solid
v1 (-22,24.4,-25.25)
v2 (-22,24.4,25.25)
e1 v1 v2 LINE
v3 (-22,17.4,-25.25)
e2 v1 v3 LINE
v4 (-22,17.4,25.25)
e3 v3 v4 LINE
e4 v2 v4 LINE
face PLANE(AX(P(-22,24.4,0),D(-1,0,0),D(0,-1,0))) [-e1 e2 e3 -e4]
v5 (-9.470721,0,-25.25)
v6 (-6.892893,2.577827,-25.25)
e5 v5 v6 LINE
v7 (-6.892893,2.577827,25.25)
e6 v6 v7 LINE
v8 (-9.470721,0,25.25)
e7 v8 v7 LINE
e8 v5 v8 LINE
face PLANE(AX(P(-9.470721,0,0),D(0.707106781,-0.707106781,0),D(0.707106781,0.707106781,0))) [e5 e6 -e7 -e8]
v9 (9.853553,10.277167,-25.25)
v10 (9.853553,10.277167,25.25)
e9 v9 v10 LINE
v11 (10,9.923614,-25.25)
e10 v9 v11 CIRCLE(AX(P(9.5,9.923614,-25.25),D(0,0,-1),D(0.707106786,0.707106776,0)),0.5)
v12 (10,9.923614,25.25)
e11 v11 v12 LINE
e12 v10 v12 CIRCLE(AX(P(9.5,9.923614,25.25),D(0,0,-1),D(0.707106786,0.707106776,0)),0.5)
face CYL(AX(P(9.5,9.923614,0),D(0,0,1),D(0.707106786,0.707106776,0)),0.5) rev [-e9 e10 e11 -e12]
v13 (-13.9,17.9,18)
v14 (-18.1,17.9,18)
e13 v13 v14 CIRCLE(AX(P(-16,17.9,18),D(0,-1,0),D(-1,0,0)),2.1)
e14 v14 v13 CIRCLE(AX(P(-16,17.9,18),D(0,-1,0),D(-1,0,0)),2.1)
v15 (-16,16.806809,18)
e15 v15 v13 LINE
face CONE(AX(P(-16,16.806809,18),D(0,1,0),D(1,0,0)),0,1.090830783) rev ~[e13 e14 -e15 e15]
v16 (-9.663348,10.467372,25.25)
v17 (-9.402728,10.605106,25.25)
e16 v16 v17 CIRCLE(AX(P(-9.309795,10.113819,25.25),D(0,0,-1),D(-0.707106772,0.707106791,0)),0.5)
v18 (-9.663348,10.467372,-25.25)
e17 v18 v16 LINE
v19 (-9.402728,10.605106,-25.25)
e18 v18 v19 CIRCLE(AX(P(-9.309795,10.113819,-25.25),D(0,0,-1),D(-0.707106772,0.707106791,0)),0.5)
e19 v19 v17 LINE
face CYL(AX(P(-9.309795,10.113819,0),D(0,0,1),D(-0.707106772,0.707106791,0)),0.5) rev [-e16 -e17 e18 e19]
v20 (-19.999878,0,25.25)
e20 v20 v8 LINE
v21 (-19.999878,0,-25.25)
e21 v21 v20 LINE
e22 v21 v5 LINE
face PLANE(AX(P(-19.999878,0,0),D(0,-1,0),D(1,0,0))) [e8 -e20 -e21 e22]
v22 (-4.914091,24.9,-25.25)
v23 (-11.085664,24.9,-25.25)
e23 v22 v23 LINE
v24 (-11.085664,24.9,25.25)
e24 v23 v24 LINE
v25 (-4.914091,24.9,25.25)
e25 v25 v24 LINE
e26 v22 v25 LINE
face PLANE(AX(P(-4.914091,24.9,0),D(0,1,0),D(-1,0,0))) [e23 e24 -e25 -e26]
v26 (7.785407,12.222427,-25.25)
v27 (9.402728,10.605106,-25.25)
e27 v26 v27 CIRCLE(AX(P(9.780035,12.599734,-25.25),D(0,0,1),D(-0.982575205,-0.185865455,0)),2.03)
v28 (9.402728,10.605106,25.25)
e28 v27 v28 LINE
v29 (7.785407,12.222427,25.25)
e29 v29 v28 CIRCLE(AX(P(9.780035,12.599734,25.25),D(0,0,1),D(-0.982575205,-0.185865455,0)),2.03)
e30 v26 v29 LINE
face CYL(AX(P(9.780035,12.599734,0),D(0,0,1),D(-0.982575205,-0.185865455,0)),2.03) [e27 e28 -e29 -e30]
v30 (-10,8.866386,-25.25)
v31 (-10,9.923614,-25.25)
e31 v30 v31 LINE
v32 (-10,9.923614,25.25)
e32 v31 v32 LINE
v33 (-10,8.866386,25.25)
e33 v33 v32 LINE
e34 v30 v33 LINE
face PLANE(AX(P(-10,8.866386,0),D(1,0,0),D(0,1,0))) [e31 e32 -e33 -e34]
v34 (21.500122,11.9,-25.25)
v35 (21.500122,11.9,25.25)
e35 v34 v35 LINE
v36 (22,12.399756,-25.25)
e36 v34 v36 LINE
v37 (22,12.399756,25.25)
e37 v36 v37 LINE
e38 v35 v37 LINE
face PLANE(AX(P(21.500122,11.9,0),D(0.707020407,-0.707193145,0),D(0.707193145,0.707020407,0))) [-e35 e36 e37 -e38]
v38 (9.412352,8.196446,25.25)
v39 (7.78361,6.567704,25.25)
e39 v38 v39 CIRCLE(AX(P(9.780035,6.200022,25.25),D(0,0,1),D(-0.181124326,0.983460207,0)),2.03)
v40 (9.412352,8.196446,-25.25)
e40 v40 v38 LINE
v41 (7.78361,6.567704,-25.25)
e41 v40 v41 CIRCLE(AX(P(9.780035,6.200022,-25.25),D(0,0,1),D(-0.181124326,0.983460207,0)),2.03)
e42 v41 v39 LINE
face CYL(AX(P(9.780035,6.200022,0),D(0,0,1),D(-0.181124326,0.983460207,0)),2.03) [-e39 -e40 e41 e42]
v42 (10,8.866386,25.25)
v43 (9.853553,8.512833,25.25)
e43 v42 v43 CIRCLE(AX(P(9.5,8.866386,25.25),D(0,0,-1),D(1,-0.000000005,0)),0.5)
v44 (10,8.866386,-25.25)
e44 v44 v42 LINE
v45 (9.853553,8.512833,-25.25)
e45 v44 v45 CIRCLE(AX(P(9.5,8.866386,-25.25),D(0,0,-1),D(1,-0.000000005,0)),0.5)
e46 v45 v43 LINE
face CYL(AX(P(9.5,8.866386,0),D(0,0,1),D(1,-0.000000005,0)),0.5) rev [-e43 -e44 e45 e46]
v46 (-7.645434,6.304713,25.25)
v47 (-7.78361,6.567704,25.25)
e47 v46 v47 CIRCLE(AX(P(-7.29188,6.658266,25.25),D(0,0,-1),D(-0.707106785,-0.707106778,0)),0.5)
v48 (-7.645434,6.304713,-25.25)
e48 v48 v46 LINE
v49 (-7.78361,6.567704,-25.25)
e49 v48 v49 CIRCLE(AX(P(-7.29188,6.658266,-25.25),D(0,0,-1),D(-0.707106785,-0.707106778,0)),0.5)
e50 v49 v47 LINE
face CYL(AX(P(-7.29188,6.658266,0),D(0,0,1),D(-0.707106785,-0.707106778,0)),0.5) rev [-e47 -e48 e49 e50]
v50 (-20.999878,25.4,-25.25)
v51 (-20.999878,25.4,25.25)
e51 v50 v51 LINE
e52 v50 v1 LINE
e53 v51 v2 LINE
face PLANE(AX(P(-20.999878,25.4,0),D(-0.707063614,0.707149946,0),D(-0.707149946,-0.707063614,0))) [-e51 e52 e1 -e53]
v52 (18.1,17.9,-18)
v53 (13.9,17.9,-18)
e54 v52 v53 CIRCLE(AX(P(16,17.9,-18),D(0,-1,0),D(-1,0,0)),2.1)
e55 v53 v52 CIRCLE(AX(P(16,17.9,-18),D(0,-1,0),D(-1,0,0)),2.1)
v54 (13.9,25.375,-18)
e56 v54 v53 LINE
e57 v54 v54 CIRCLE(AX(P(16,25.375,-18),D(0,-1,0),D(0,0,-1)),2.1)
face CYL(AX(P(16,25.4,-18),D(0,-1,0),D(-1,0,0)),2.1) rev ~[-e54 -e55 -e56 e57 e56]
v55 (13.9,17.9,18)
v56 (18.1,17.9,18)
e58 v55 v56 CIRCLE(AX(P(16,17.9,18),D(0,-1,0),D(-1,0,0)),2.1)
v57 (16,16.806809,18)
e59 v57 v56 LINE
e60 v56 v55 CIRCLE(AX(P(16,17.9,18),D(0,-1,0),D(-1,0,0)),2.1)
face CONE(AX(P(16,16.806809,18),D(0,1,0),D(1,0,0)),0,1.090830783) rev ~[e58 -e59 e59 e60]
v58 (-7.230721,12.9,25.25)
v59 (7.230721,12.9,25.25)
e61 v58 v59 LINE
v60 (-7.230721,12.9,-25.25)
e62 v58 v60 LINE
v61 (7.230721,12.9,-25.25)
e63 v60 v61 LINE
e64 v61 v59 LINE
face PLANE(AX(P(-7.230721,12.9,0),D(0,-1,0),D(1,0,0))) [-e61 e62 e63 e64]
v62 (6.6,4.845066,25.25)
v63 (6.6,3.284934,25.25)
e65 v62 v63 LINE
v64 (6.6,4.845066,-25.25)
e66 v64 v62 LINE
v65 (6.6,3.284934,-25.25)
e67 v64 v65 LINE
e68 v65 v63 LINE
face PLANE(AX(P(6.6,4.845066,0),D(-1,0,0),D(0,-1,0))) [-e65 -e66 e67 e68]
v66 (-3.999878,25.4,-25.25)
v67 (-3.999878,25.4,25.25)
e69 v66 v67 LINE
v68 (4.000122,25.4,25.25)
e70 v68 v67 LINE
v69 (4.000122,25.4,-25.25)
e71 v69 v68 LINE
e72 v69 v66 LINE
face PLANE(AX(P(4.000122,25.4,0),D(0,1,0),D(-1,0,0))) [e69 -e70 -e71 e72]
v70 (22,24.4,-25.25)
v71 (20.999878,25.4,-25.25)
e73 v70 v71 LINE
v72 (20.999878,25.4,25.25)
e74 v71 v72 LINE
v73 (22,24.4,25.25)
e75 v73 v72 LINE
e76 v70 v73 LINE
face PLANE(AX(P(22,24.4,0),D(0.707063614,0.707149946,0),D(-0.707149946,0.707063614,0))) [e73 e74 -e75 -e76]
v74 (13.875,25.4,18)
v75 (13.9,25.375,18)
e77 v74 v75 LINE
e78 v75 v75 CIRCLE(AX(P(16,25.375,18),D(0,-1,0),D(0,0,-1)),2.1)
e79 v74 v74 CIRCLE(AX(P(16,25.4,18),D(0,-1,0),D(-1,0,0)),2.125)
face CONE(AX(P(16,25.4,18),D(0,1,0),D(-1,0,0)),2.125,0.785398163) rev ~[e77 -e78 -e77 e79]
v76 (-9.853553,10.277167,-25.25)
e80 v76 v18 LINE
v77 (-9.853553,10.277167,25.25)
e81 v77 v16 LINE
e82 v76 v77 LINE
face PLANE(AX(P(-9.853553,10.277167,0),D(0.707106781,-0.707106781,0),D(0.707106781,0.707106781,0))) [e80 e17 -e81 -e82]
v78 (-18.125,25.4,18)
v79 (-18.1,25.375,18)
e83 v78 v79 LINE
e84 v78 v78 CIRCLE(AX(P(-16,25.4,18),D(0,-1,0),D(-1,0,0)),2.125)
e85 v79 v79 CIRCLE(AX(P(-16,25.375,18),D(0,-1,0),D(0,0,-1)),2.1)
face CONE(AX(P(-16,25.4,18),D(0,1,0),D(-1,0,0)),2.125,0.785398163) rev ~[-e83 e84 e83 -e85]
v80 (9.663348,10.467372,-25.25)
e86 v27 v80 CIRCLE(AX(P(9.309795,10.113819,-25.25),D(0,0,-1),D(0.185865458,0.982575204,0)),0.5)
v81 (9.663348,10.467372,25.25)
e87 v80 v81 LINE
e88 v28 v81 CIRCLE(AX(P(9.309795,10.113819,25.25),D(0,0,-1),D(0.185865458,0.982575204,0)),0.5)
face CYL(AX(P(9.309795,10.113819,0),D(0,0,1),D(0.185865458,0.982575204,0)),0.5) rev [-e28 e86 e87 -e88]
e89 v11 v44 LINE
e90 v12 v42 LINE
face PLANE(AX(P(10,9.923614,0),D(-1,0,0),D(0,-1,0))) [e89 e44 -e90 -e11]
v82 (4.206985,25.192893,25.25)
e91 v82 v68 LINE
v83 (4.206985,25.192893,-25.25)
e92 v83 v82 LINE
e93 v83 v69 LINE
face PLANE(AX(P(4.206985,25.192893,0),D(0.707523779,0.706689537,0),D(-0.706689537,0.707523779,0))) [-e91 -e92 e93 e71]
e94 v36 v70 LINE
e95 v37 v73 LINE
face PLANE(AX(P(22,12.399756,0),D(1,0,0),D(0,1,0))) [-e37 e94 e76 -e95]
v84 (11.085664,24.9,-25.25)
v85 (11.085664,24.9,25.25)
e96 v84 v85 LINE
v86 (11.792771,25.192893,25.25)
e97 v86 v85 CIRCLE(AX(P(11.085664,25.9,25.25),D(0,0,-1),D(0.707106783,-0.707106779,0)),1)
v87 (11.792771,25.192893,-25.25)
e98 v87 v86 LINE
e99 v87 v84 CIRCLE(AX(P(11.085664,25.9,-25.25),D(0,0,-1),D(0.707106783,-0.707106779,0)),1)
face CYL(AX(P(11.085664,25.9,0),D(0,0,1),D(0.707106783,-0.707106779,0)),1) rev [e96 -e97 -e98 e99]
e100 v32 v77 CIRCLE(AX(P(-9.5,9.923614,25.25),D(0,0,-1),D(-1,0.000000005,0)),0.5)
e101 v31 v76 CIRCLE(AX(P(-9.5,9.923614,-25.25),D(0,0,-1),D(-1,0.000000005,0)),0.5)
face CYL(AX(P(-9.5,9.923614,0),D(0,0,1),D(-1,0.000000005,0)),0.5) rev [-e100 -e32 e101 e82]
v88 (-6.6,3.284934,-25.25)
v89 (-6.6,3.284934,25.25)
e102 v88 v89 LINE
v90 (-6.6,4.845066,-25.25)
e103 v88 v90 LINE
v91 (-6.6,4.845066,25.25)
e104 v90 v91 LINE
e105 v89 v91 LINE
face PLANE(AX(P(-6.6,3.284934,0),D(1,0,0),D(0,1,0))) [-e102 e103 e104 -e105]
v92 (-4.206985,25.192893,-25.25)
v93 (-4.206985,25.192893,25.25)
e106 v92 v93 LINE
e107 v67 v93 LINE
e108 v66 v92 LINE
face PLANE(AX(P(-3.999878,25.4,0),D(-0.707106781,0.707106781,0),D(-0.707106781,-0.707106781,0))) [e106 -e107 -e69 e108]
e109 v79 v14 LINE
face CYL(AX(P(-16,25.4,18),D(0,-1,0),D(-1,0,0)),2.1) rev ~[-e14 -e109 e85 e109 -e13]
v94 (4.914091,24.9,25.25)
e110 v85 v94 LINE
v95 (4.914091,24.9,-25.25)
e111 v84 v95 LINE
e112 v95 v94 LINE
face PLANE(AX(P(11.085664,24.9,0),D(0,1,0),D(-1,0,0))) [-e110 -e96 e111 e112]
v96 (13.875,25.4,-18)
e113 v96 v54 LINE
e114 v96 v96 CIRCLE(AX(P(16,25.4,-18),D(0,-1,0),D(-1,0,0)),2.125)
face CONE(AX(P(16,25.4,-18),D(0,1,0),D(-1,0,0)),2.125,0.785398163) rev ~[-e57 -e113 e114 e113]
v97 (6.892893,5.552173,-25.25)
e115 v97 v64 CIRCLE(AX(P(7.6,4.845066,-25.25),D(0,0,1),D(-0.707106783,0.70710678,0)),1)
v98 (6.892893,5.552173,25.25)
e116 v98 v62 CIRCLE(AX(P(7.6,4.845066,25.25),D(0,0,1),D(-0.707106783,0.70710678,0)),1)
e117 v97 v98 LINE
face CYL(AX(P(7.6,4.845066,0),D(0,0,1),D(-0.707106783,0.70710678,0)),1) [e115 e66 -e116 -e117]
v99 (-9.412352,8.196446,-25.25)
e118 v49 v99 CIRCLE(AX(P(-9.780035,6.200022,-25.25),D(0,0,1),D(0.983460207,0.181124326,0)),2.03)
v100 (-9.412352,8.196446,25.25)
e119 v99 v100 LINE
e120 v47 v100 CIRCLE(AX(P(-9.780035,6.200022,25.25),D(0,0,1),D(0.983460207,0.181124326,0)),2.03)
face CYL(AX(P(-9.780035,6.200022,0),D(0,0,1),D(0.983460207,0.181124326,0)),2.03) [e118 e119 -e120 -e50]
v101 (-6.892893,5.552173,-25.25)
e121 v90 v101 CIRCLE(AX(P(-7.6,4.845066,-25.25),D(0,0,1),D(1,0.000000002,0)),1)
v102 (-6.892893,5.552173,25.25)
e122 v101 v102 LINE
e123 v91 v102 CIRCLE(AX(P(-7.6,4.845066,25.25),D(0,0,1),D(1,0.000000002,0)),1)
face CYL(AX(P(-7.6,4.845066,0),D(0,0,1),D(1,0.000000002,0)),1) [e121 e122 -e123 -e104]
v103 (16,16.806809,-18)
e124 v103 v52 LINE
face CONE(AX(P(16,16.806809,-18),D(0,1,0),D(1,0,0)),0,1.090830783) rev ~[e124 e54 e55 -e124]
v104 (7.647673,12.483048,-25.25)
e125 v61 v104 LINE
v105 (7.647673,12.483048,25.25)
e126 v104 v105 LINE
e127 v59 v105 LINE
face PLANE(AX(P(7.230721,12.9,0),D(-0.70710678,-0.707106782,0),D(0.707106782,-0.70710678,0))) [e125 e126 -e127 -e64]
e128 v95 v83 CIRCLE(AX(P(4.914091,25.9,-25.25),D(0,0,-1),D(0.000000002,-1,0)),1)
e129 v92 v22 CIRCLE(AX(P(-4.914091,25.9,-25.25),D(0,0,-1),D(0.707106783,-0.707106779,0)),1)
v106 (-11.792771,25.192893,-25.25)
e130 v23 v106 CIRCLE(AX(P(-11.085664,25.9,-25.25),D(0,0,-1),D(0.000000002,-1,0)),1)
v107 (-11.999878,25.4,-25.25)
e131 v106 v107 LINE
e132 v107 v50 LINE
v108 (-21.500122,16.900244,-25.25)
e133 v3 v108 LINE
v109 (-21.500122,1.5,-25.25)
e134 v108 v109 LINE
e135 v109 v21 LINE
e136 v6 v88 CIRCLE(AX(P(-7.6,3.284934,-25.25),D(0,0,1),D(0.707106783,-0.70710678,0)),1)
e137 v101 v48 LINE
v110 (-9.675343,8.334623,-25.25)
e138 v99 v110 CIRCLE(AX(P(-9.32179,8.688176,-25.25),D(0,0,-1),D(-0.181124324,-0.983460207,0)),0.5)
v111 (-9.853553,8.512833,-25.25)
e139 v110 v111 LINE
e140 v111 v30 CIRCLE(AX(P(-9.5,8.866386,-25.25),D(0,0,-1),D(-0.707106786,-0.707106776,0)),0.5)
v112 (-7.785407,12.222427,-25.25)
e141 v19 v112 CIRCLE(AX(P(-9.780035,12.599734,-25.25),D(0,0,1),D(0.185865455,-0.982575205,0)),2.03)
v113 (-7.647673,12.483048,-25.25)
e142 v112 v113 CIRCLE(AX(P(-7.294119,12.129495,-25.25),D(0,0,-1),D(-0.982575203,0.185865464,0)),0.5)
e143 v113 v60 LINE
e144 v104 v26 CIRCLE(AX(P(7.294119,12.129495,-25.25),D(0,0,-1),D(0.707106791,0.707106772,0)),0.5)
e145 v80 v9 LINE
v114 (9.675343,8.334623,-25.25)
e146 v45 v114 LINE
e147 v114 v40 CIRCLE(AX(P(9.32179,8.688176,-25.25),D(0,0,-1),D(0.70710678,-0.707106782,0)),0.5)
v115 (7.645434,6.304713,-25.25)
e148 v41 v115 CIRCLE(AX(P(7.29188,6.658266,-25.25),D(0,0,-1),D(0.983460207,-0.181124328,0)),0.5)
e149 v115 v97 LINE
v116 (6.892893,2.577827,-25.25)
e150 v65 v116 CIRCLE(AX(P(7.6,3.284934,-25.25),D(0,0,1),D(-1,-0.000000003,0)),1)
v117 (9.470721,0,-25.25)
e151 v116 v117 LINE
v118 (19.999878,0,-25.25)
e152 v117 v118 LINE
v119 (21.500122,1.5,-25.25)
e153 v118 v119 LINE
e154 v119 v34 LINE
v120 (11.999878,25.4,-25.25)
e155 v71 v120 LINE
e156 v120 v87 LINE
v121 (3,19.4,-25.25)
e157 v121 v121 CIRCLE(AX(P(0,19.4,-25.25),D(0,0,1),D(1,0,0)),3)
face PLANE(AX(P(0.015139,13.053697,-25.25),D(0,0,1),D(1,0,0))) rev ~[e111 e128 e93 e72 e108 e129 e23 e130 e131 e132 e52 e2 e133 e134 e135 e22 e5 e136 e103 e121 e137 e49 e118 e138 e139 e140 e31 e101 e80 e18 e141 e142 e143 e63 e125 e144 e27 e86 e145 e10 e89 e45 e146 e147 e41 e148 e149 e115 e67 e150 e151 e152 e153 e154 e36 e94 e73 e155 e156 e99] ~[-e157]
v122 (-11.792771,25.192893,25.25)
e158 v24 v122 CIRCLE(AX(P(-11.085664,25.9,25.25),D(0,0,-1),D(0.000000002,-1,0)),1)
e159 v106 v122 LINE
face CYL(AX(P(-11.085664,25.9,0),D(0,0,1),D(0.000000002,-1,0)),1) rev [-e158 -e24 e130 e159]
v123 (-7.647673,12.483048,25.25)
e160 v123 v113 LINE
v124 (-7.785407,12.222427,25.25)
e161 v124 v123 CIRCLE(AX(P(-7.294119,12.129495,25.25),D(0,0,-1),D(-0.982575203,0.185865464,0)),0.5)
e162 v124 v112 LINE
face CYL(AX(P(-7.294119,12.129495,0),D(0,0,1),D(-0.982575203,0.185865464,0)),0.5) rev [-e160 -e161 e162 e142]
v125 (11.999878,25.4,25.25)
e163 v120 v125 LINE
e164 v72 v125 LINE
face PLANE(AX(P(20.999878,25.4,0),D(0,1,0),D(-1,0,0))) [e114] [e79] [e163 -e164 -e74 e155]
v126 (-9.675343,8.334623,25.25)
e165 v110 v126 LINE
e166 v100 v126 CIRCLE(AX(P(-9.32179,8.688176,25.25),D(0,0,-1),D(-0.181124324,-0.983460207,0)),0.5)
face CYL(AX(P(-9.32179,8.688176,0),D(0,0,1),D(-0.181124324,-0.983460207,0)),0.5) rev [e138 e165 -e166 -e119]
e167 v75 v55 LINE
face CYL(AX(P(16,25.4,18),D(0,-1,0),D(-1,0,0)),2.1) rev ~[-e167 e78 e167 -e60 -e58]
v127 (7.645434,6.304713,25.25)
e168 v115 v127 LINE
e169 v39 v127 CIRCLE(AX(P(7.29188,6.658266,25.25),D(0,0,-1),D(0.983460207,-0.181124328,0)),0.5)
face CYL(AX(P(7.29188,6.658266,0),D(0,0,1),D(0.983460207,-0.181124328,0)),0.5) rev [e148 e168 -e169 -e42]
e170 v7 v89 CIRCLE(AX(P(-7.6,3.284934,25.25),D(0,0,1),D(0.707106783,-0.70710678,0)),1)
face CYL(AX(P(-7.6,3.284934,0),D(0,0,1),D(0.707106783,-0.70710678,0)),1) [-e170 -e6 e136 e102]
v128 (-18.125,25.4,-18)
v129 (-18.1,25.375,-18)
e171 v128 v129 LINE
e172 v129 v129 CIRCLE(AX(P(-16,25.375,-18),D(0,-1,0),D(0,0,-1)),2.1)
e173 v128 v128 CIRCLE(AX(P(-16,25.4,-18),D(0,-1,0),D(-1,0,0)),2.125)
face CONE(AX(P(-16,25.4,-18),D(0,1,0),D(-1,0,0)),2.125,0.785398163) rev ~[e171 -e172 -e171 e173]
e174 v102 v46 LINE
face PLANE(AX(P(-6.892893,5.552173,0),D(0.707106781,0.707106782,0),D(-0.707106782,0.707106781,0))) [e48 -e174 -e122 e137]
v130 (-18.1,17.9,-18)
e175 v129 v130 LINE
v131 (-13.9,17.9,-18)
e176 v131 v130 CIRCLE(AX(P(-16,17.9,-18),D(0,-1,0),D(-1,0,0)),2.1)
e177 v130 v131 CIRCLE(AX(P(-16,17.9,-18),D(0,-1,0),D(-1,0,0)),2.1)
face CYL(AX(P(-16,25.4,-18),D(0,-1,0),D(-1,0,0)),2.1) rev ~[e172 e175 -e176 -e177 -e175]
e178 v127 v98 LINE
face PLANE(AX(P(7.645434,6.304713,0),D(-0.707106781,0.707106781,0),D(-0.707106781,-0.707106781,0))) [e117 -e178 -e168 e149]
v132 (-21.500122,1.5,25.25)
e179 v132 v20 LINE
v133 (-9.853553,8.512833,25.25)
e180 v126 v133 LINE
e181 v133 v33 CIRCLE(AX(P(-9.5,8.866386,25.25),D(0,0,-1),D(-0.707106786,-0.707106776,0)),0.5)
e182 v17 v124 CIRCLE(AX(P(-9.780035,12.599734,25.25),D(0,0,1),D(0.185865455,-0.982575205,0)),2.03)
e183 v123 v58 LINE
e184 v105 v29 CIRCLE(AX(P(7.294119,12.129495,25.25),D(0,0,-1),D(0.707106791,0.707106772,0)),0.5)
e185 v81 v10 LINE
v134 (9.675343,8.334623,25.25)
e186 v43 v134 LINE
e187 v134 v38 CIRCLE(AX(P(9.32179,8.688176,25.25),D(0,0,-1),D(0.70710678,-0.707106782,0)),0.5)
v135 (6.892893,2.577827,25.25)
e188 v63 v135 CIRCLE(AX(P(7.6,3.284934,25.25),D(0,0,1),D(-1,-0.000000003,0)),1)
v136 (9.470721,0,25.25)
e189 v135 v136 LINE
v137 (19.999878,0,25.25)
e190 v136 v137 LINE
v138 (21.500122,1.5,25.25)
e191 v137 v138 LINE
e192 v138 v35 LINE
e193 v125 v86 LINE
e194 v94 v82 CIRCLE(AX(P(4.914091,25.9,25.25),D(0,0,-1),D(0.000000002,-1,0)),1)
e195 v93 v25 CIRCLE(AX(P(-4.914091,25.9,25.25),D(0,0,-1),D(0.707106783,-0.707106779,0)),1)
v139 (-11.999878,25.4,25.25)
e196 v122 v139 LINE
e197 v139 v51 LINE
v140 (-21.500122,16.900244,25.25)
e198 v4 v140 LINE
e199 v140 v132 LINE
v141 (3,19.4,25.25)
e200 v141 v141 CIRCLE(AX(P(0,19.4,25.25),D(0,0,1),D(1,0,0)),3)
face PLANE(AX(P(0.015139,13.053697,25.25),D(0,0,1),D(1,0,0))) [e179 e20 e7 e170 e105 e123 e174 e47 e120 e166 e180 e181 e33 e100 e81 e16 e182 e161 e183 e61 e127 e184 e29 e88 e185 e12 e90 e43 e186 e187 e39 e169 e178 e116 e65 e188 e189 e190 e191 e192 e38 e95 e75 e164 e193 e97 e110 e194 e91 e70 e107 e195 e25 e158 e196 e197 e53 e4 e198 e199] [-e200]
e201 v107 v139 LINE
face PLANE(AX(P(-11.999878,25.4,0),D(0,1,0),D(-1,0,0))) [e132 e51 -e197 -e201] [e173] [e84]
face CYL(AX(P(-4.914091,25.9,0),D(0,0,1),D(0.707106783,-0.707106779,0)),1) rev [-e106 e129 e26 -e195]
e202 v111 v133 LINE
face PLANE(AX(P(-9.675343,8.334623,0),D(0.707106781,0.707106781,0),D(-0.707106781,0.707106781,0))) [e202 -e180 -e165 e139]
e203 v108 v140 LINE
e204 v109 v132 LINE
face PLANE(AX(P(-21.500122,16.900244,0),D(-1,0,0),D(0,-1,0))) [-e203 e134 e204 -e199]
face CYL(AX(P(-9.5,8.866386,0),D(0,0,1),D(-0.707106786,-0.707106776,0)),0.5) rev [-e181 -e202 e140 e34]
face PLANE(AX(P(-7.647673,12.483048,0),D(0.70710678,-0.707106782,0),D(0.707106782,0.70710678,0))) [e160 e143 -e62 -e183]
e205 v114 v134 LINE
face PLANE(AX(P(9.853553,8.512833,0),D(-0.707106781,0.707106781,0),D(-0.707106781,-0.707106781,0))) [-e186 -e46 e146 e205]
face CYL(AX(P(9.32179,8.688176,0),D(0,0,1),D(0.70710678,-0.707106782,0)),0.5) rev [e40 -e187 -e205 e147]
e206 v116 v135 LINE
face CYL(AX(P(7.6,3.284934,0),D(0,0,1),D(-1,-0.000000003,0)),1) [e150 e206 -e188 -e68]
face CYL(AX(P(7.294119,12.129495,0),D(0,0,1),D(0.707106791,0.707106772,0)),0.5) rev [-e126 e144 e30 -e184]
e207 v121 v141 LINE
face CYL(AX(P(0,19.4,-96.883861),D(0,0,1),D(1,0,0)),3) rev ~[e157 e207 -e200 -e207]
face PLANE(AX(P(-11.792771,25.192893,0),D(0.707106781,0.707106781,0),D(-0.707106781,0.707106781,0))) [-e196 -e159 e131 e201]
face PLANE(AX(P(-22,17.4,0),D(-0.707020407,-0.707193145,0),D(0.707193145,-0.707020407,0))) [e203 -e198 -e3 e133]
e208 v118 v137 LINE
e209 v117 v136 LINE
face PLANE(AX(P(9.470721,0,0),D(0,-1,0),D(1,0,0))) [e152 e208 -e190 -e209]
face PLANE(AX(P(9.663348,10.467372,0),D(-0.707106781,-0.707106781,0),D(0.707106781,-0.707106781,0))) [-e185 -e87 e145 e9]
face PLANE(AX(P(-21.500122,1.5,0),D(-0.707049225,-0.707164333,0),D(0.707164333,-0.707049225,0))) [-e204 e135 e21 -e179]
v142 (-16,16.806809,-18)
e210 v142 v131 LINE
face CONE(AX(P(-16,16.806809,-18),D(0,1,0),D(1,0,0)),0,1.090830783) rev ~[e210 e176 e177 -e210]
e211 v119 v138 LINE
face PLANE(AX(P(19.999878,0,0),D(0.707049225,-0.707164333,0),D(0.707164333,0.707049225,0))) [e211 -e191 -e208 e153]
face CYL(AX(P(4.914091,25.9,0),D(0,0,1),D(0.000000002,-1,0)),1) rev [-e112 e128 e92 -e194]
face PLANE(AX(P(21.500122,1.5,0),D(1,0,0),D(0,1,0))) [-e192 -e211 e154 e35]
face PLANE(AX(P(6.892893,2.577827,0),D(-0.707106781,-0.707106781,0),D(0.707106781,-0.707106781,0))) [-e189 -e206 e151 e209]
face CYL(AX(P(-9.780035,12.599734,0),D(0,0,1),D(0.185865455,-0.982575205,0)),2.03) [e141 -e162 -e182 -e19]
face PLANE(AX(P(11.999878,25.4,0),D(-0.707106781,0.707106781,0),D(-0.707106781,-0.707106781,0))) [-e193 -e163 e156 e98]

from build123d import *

# Parameters (mm, degrees)
BLOCK_DEPTH                           = 25.25
TAP_DRILL_FOR_M5X0_8_TAP1_D           = 4.2
TAP_DRILL_FOR_M5X0_8_TAP1_DEPTH       = 7.5
TAP_DRILL_FOR_M5X0_8_TAP1_CSINK_D     = 4.25
TAP_DRILL_FOR_M5X0_8_TAP1_CSINK_ANGLE = 90
TAP_DRILL_FOR_M5X0_8_TAP1_TIP         = 1.093190806
F_6_0_6_DIAMETER_HOLE1_D              = 6


with BuildPart() as part:
    # Sketch2 → Block (new, symmetric)
    with BuildSketch(Plane.XY):
        with BuildLine():
            Line((-7.230720611, 12.9), (7.230720611, 12.9))
            Line((7.230720611, 12.9), (7.647672674, 12.483047938))
            ThreePointArc((7.647672674, 12.483047938), (7.736182466, 12.363118479), (7.785406885, 12.222427275))
            ThreePointArc((7.785406885, 12.222427275), (8.344607784, 11.164307384), (9.402727675, 10.605106485))
            ThreePointArc((9.402727675, 10.605106485), (9.54341888, 10.555882066), (9.663348338, 10.467372274))
            Line((9.663348338, 10.467372274), (9.853553391, 10.277167221))
            ThreePointArc((9.853553391, 10.277167221), (9.961939766, 10.114955546), (10, 9.92361383))
            Line((10, 9.92361383), (10, 8.86638617))
            ThreePointArc((10, 8.86638617), (9.961939766, 8.675044454), (9.853553391, 8.512832779))
            Line((9.853553391, 8.512832779), (9.675343394, 8.334622782))
            ThreePointArc((9.675343394, 8.334622782), (9.554347216, 8.245550888), (9.412352167, 8.19644607))
            ThreePointArc((9.412352167, 8.19644607), (8.344607784, 7.635448616), (7.783610331, 6.567704234))
            ThreePointArc((7.783610331, 6.567704234), (7.734505512, 6.425709184), (7.645433618, 6.304713007))
            Line((7.645433618, 6.304713007), (6.892893219, 5.552172608))
            ThreePointArc((6.892893219, 5.552172608), (6.676120468, 5.227749259), (6.6, 4.845065826))
            Line((6.6, 4.845065826), (6.6, 3.284934173))
            ThreePointArc((6.6, 3.284934173), (6.676120468, 2.902250741), (6.892893219, 2.577827392))
            Line((6.892893219, 2.577827392), (9.470720611, 0))
            Line((9.470720611, 0), (19.9998779, 0))
            Line((19.9998779, 0), (21.5001221, 1.5))
            Line((21.5001221, 1.5), (21.5001221, 11.9))
            Line((21.5001221, 11.9), (22, 12.3997558))
            Line((22, 12.3997558), (22, 24.4))
            Line((22, 24.4), (20.9998779, 25.4))
            Line((20.9998779, 25.4), (11.9998779, 25.4))
            Line((11.9998779, 25.4), (11.792771119, 25.192893219))
            ThreePointArc((11.792771119, 25.192893219), (11.46834777, 24.976120467), (11.085664338, 24.9))
            Line((11.085664338, 24.9), (4.914091462, 24.9))
            ThreePointArc((4.914091462, 24.9), (4.53140803, 24.976120467), (4.206984681, 25.192893219))
            Line((4.206984681, 25.192893219), (4.0001221, 25.4))
            Line((4.0001221, 25.4), (-3.9998779, 25.4))
            Line((-3.9998779, 25.4), (-4.206984681, 25.192893219))
            ThreePointArc((-4.206984681, 25.192893219), (-4.53140803, 24.976120467), (-4.914091462, 24.9))
            Line((-4.914091462, 24.9), (-11.085664338, 24.9))
            ThreePointArc((-11.085664338, 24.9), (-11.46834777, 24.976120467), (-11.792771119, 25.192893219))
            Line((-11.792771119, 25.192893219), (-11.9998779, 25.4))
            Line((-11.9998779, 25.4), (-20.9998779, 25.4))
            Line((-20.9998779, 25.4), (-22, 24.4))
            Line((-22, 24.4), (-22, 17.4))
            Line((-22, 17.4), (-21.5001221, 16.9002442))
            Line((-21.5001221, 16.9002442), (-21.5001221, 1.5))
            Line((-21.5001221, 1.5), (-19.9998779, 0))
            Line((-19.9998779, 0), (-9.470720611, 0))
            Line((-9.470720611, 0), (-6.892893219, 2.577827392))
            ThreePointArc((-6.892893219, 2.577827392), (-6.676120468, 2.902250741), (-6.6, 3.284934173))
            Line((-6.6, 3.284934173), (-6.6, 4.845065826))
            ThreePointArc((-6.6, 4.845065826), (-6.676120468, 5.227749259), (-6.892893219, 5.552172608))
            Line((-6.892893219, 5.552172608), (-7.645433618, 6.304713006))
            ThreePointArc((-7.645433618, 6.304713006), (-7.734505512, 6.425709184), (-7.783610331, 6.567704233))
            ThreePointArc((-7.783610331, 6.567704233), (-8.344607784, 7.635448616), (-9.412352167, 8.19644607))
            ThreePointArc((-9.412352167, 8.19644607), (-9.554347216, 8.245550888), (-9.675343394, 8.334622782))
            Line((-9.675343394, 8.334622782), (-9.853553391, 8.512832779))
            ThreePointArc((-9.853553391, 8.512832779), (-9.961939766, 8.675044454), (-10, 8.86638617))
            Line((-10, 8.86638617), (-10, 9.92361383))
            ThreePointArc((-10, 9.92361383), (-9.961939766, 10.114955546), (-9.853553391, 10.277167221))
            Line((-9.853553391, 10.277167221), (-9.663348338, 10.467372274))
            ThreePointArc((-9.663348338, 10.467372274), (-9.543418879, 10.555882066), (-9.402727675, 10.605106485))
            ThreePointArc((-9.402727675, 10.605106485), (-8.344607784, 11.164307384), (-7.785406885, 12.222427275))
            ThreePointArc((-7.785406885, 12.222427275), (-7.736182466, 12.363118479), (-7.647672674, 12.483047938))
            Line((-7.647672674, 12.483047938), (-7.230720611, 12.9))
        make_face()
    extrude(amount=BLOCK_DEPTH, both=True)

    # Tap Drill for M5x0.8 Tap1
    with Locations(Plane(origin=(0, 25.4, 0), x_dir=(1, 0, 0), z_dir=(0, 1, 0))):
        with Locations((16, 18), (-16, 18), (16, -18), (-16, -18)):
            CounterSinkHole(TAP_DRILL_FOR_M5X0_8_TAP1_D / 2, TAP_DRILL_FOR_M5X0_8_TAP1_CSINK_D / 2, depth=TAP_DRILL_FOR_M5X0_8_TAP1_DEPTH, counter_sink_angle=TAP_DRILL_FOR_M5X0_8_TAP1_CSINK_ANGLE)
            with Locations((0, 0, -(TAP_DRILL_FOR_M5X0_8_TAP1_DEPTH + TAP_DRILL_FOR_M5X0_8_TAP1_TIP / 2))):  # 125° drill point
                Cone(0, TAP_DRILL_FOR_M5X0_8_TAP1_D / 2, TAP_DRILL_FOR_M5X0_8_TAP1_TIP, mode=Mode.SUBTRACT)

    # Ø6.0 (6) Diameter Hole1 (through all)
    with Locations(Plane(origin=(0, 0, -25.25), x_dir=(-1, 0, 0), z_dir=(0, 0, -1))):
        with Locations((0, 19.4)):
            Hole(F_6_0_6_DIAMETER_HOLE1_D / 2)


solid = part.part
